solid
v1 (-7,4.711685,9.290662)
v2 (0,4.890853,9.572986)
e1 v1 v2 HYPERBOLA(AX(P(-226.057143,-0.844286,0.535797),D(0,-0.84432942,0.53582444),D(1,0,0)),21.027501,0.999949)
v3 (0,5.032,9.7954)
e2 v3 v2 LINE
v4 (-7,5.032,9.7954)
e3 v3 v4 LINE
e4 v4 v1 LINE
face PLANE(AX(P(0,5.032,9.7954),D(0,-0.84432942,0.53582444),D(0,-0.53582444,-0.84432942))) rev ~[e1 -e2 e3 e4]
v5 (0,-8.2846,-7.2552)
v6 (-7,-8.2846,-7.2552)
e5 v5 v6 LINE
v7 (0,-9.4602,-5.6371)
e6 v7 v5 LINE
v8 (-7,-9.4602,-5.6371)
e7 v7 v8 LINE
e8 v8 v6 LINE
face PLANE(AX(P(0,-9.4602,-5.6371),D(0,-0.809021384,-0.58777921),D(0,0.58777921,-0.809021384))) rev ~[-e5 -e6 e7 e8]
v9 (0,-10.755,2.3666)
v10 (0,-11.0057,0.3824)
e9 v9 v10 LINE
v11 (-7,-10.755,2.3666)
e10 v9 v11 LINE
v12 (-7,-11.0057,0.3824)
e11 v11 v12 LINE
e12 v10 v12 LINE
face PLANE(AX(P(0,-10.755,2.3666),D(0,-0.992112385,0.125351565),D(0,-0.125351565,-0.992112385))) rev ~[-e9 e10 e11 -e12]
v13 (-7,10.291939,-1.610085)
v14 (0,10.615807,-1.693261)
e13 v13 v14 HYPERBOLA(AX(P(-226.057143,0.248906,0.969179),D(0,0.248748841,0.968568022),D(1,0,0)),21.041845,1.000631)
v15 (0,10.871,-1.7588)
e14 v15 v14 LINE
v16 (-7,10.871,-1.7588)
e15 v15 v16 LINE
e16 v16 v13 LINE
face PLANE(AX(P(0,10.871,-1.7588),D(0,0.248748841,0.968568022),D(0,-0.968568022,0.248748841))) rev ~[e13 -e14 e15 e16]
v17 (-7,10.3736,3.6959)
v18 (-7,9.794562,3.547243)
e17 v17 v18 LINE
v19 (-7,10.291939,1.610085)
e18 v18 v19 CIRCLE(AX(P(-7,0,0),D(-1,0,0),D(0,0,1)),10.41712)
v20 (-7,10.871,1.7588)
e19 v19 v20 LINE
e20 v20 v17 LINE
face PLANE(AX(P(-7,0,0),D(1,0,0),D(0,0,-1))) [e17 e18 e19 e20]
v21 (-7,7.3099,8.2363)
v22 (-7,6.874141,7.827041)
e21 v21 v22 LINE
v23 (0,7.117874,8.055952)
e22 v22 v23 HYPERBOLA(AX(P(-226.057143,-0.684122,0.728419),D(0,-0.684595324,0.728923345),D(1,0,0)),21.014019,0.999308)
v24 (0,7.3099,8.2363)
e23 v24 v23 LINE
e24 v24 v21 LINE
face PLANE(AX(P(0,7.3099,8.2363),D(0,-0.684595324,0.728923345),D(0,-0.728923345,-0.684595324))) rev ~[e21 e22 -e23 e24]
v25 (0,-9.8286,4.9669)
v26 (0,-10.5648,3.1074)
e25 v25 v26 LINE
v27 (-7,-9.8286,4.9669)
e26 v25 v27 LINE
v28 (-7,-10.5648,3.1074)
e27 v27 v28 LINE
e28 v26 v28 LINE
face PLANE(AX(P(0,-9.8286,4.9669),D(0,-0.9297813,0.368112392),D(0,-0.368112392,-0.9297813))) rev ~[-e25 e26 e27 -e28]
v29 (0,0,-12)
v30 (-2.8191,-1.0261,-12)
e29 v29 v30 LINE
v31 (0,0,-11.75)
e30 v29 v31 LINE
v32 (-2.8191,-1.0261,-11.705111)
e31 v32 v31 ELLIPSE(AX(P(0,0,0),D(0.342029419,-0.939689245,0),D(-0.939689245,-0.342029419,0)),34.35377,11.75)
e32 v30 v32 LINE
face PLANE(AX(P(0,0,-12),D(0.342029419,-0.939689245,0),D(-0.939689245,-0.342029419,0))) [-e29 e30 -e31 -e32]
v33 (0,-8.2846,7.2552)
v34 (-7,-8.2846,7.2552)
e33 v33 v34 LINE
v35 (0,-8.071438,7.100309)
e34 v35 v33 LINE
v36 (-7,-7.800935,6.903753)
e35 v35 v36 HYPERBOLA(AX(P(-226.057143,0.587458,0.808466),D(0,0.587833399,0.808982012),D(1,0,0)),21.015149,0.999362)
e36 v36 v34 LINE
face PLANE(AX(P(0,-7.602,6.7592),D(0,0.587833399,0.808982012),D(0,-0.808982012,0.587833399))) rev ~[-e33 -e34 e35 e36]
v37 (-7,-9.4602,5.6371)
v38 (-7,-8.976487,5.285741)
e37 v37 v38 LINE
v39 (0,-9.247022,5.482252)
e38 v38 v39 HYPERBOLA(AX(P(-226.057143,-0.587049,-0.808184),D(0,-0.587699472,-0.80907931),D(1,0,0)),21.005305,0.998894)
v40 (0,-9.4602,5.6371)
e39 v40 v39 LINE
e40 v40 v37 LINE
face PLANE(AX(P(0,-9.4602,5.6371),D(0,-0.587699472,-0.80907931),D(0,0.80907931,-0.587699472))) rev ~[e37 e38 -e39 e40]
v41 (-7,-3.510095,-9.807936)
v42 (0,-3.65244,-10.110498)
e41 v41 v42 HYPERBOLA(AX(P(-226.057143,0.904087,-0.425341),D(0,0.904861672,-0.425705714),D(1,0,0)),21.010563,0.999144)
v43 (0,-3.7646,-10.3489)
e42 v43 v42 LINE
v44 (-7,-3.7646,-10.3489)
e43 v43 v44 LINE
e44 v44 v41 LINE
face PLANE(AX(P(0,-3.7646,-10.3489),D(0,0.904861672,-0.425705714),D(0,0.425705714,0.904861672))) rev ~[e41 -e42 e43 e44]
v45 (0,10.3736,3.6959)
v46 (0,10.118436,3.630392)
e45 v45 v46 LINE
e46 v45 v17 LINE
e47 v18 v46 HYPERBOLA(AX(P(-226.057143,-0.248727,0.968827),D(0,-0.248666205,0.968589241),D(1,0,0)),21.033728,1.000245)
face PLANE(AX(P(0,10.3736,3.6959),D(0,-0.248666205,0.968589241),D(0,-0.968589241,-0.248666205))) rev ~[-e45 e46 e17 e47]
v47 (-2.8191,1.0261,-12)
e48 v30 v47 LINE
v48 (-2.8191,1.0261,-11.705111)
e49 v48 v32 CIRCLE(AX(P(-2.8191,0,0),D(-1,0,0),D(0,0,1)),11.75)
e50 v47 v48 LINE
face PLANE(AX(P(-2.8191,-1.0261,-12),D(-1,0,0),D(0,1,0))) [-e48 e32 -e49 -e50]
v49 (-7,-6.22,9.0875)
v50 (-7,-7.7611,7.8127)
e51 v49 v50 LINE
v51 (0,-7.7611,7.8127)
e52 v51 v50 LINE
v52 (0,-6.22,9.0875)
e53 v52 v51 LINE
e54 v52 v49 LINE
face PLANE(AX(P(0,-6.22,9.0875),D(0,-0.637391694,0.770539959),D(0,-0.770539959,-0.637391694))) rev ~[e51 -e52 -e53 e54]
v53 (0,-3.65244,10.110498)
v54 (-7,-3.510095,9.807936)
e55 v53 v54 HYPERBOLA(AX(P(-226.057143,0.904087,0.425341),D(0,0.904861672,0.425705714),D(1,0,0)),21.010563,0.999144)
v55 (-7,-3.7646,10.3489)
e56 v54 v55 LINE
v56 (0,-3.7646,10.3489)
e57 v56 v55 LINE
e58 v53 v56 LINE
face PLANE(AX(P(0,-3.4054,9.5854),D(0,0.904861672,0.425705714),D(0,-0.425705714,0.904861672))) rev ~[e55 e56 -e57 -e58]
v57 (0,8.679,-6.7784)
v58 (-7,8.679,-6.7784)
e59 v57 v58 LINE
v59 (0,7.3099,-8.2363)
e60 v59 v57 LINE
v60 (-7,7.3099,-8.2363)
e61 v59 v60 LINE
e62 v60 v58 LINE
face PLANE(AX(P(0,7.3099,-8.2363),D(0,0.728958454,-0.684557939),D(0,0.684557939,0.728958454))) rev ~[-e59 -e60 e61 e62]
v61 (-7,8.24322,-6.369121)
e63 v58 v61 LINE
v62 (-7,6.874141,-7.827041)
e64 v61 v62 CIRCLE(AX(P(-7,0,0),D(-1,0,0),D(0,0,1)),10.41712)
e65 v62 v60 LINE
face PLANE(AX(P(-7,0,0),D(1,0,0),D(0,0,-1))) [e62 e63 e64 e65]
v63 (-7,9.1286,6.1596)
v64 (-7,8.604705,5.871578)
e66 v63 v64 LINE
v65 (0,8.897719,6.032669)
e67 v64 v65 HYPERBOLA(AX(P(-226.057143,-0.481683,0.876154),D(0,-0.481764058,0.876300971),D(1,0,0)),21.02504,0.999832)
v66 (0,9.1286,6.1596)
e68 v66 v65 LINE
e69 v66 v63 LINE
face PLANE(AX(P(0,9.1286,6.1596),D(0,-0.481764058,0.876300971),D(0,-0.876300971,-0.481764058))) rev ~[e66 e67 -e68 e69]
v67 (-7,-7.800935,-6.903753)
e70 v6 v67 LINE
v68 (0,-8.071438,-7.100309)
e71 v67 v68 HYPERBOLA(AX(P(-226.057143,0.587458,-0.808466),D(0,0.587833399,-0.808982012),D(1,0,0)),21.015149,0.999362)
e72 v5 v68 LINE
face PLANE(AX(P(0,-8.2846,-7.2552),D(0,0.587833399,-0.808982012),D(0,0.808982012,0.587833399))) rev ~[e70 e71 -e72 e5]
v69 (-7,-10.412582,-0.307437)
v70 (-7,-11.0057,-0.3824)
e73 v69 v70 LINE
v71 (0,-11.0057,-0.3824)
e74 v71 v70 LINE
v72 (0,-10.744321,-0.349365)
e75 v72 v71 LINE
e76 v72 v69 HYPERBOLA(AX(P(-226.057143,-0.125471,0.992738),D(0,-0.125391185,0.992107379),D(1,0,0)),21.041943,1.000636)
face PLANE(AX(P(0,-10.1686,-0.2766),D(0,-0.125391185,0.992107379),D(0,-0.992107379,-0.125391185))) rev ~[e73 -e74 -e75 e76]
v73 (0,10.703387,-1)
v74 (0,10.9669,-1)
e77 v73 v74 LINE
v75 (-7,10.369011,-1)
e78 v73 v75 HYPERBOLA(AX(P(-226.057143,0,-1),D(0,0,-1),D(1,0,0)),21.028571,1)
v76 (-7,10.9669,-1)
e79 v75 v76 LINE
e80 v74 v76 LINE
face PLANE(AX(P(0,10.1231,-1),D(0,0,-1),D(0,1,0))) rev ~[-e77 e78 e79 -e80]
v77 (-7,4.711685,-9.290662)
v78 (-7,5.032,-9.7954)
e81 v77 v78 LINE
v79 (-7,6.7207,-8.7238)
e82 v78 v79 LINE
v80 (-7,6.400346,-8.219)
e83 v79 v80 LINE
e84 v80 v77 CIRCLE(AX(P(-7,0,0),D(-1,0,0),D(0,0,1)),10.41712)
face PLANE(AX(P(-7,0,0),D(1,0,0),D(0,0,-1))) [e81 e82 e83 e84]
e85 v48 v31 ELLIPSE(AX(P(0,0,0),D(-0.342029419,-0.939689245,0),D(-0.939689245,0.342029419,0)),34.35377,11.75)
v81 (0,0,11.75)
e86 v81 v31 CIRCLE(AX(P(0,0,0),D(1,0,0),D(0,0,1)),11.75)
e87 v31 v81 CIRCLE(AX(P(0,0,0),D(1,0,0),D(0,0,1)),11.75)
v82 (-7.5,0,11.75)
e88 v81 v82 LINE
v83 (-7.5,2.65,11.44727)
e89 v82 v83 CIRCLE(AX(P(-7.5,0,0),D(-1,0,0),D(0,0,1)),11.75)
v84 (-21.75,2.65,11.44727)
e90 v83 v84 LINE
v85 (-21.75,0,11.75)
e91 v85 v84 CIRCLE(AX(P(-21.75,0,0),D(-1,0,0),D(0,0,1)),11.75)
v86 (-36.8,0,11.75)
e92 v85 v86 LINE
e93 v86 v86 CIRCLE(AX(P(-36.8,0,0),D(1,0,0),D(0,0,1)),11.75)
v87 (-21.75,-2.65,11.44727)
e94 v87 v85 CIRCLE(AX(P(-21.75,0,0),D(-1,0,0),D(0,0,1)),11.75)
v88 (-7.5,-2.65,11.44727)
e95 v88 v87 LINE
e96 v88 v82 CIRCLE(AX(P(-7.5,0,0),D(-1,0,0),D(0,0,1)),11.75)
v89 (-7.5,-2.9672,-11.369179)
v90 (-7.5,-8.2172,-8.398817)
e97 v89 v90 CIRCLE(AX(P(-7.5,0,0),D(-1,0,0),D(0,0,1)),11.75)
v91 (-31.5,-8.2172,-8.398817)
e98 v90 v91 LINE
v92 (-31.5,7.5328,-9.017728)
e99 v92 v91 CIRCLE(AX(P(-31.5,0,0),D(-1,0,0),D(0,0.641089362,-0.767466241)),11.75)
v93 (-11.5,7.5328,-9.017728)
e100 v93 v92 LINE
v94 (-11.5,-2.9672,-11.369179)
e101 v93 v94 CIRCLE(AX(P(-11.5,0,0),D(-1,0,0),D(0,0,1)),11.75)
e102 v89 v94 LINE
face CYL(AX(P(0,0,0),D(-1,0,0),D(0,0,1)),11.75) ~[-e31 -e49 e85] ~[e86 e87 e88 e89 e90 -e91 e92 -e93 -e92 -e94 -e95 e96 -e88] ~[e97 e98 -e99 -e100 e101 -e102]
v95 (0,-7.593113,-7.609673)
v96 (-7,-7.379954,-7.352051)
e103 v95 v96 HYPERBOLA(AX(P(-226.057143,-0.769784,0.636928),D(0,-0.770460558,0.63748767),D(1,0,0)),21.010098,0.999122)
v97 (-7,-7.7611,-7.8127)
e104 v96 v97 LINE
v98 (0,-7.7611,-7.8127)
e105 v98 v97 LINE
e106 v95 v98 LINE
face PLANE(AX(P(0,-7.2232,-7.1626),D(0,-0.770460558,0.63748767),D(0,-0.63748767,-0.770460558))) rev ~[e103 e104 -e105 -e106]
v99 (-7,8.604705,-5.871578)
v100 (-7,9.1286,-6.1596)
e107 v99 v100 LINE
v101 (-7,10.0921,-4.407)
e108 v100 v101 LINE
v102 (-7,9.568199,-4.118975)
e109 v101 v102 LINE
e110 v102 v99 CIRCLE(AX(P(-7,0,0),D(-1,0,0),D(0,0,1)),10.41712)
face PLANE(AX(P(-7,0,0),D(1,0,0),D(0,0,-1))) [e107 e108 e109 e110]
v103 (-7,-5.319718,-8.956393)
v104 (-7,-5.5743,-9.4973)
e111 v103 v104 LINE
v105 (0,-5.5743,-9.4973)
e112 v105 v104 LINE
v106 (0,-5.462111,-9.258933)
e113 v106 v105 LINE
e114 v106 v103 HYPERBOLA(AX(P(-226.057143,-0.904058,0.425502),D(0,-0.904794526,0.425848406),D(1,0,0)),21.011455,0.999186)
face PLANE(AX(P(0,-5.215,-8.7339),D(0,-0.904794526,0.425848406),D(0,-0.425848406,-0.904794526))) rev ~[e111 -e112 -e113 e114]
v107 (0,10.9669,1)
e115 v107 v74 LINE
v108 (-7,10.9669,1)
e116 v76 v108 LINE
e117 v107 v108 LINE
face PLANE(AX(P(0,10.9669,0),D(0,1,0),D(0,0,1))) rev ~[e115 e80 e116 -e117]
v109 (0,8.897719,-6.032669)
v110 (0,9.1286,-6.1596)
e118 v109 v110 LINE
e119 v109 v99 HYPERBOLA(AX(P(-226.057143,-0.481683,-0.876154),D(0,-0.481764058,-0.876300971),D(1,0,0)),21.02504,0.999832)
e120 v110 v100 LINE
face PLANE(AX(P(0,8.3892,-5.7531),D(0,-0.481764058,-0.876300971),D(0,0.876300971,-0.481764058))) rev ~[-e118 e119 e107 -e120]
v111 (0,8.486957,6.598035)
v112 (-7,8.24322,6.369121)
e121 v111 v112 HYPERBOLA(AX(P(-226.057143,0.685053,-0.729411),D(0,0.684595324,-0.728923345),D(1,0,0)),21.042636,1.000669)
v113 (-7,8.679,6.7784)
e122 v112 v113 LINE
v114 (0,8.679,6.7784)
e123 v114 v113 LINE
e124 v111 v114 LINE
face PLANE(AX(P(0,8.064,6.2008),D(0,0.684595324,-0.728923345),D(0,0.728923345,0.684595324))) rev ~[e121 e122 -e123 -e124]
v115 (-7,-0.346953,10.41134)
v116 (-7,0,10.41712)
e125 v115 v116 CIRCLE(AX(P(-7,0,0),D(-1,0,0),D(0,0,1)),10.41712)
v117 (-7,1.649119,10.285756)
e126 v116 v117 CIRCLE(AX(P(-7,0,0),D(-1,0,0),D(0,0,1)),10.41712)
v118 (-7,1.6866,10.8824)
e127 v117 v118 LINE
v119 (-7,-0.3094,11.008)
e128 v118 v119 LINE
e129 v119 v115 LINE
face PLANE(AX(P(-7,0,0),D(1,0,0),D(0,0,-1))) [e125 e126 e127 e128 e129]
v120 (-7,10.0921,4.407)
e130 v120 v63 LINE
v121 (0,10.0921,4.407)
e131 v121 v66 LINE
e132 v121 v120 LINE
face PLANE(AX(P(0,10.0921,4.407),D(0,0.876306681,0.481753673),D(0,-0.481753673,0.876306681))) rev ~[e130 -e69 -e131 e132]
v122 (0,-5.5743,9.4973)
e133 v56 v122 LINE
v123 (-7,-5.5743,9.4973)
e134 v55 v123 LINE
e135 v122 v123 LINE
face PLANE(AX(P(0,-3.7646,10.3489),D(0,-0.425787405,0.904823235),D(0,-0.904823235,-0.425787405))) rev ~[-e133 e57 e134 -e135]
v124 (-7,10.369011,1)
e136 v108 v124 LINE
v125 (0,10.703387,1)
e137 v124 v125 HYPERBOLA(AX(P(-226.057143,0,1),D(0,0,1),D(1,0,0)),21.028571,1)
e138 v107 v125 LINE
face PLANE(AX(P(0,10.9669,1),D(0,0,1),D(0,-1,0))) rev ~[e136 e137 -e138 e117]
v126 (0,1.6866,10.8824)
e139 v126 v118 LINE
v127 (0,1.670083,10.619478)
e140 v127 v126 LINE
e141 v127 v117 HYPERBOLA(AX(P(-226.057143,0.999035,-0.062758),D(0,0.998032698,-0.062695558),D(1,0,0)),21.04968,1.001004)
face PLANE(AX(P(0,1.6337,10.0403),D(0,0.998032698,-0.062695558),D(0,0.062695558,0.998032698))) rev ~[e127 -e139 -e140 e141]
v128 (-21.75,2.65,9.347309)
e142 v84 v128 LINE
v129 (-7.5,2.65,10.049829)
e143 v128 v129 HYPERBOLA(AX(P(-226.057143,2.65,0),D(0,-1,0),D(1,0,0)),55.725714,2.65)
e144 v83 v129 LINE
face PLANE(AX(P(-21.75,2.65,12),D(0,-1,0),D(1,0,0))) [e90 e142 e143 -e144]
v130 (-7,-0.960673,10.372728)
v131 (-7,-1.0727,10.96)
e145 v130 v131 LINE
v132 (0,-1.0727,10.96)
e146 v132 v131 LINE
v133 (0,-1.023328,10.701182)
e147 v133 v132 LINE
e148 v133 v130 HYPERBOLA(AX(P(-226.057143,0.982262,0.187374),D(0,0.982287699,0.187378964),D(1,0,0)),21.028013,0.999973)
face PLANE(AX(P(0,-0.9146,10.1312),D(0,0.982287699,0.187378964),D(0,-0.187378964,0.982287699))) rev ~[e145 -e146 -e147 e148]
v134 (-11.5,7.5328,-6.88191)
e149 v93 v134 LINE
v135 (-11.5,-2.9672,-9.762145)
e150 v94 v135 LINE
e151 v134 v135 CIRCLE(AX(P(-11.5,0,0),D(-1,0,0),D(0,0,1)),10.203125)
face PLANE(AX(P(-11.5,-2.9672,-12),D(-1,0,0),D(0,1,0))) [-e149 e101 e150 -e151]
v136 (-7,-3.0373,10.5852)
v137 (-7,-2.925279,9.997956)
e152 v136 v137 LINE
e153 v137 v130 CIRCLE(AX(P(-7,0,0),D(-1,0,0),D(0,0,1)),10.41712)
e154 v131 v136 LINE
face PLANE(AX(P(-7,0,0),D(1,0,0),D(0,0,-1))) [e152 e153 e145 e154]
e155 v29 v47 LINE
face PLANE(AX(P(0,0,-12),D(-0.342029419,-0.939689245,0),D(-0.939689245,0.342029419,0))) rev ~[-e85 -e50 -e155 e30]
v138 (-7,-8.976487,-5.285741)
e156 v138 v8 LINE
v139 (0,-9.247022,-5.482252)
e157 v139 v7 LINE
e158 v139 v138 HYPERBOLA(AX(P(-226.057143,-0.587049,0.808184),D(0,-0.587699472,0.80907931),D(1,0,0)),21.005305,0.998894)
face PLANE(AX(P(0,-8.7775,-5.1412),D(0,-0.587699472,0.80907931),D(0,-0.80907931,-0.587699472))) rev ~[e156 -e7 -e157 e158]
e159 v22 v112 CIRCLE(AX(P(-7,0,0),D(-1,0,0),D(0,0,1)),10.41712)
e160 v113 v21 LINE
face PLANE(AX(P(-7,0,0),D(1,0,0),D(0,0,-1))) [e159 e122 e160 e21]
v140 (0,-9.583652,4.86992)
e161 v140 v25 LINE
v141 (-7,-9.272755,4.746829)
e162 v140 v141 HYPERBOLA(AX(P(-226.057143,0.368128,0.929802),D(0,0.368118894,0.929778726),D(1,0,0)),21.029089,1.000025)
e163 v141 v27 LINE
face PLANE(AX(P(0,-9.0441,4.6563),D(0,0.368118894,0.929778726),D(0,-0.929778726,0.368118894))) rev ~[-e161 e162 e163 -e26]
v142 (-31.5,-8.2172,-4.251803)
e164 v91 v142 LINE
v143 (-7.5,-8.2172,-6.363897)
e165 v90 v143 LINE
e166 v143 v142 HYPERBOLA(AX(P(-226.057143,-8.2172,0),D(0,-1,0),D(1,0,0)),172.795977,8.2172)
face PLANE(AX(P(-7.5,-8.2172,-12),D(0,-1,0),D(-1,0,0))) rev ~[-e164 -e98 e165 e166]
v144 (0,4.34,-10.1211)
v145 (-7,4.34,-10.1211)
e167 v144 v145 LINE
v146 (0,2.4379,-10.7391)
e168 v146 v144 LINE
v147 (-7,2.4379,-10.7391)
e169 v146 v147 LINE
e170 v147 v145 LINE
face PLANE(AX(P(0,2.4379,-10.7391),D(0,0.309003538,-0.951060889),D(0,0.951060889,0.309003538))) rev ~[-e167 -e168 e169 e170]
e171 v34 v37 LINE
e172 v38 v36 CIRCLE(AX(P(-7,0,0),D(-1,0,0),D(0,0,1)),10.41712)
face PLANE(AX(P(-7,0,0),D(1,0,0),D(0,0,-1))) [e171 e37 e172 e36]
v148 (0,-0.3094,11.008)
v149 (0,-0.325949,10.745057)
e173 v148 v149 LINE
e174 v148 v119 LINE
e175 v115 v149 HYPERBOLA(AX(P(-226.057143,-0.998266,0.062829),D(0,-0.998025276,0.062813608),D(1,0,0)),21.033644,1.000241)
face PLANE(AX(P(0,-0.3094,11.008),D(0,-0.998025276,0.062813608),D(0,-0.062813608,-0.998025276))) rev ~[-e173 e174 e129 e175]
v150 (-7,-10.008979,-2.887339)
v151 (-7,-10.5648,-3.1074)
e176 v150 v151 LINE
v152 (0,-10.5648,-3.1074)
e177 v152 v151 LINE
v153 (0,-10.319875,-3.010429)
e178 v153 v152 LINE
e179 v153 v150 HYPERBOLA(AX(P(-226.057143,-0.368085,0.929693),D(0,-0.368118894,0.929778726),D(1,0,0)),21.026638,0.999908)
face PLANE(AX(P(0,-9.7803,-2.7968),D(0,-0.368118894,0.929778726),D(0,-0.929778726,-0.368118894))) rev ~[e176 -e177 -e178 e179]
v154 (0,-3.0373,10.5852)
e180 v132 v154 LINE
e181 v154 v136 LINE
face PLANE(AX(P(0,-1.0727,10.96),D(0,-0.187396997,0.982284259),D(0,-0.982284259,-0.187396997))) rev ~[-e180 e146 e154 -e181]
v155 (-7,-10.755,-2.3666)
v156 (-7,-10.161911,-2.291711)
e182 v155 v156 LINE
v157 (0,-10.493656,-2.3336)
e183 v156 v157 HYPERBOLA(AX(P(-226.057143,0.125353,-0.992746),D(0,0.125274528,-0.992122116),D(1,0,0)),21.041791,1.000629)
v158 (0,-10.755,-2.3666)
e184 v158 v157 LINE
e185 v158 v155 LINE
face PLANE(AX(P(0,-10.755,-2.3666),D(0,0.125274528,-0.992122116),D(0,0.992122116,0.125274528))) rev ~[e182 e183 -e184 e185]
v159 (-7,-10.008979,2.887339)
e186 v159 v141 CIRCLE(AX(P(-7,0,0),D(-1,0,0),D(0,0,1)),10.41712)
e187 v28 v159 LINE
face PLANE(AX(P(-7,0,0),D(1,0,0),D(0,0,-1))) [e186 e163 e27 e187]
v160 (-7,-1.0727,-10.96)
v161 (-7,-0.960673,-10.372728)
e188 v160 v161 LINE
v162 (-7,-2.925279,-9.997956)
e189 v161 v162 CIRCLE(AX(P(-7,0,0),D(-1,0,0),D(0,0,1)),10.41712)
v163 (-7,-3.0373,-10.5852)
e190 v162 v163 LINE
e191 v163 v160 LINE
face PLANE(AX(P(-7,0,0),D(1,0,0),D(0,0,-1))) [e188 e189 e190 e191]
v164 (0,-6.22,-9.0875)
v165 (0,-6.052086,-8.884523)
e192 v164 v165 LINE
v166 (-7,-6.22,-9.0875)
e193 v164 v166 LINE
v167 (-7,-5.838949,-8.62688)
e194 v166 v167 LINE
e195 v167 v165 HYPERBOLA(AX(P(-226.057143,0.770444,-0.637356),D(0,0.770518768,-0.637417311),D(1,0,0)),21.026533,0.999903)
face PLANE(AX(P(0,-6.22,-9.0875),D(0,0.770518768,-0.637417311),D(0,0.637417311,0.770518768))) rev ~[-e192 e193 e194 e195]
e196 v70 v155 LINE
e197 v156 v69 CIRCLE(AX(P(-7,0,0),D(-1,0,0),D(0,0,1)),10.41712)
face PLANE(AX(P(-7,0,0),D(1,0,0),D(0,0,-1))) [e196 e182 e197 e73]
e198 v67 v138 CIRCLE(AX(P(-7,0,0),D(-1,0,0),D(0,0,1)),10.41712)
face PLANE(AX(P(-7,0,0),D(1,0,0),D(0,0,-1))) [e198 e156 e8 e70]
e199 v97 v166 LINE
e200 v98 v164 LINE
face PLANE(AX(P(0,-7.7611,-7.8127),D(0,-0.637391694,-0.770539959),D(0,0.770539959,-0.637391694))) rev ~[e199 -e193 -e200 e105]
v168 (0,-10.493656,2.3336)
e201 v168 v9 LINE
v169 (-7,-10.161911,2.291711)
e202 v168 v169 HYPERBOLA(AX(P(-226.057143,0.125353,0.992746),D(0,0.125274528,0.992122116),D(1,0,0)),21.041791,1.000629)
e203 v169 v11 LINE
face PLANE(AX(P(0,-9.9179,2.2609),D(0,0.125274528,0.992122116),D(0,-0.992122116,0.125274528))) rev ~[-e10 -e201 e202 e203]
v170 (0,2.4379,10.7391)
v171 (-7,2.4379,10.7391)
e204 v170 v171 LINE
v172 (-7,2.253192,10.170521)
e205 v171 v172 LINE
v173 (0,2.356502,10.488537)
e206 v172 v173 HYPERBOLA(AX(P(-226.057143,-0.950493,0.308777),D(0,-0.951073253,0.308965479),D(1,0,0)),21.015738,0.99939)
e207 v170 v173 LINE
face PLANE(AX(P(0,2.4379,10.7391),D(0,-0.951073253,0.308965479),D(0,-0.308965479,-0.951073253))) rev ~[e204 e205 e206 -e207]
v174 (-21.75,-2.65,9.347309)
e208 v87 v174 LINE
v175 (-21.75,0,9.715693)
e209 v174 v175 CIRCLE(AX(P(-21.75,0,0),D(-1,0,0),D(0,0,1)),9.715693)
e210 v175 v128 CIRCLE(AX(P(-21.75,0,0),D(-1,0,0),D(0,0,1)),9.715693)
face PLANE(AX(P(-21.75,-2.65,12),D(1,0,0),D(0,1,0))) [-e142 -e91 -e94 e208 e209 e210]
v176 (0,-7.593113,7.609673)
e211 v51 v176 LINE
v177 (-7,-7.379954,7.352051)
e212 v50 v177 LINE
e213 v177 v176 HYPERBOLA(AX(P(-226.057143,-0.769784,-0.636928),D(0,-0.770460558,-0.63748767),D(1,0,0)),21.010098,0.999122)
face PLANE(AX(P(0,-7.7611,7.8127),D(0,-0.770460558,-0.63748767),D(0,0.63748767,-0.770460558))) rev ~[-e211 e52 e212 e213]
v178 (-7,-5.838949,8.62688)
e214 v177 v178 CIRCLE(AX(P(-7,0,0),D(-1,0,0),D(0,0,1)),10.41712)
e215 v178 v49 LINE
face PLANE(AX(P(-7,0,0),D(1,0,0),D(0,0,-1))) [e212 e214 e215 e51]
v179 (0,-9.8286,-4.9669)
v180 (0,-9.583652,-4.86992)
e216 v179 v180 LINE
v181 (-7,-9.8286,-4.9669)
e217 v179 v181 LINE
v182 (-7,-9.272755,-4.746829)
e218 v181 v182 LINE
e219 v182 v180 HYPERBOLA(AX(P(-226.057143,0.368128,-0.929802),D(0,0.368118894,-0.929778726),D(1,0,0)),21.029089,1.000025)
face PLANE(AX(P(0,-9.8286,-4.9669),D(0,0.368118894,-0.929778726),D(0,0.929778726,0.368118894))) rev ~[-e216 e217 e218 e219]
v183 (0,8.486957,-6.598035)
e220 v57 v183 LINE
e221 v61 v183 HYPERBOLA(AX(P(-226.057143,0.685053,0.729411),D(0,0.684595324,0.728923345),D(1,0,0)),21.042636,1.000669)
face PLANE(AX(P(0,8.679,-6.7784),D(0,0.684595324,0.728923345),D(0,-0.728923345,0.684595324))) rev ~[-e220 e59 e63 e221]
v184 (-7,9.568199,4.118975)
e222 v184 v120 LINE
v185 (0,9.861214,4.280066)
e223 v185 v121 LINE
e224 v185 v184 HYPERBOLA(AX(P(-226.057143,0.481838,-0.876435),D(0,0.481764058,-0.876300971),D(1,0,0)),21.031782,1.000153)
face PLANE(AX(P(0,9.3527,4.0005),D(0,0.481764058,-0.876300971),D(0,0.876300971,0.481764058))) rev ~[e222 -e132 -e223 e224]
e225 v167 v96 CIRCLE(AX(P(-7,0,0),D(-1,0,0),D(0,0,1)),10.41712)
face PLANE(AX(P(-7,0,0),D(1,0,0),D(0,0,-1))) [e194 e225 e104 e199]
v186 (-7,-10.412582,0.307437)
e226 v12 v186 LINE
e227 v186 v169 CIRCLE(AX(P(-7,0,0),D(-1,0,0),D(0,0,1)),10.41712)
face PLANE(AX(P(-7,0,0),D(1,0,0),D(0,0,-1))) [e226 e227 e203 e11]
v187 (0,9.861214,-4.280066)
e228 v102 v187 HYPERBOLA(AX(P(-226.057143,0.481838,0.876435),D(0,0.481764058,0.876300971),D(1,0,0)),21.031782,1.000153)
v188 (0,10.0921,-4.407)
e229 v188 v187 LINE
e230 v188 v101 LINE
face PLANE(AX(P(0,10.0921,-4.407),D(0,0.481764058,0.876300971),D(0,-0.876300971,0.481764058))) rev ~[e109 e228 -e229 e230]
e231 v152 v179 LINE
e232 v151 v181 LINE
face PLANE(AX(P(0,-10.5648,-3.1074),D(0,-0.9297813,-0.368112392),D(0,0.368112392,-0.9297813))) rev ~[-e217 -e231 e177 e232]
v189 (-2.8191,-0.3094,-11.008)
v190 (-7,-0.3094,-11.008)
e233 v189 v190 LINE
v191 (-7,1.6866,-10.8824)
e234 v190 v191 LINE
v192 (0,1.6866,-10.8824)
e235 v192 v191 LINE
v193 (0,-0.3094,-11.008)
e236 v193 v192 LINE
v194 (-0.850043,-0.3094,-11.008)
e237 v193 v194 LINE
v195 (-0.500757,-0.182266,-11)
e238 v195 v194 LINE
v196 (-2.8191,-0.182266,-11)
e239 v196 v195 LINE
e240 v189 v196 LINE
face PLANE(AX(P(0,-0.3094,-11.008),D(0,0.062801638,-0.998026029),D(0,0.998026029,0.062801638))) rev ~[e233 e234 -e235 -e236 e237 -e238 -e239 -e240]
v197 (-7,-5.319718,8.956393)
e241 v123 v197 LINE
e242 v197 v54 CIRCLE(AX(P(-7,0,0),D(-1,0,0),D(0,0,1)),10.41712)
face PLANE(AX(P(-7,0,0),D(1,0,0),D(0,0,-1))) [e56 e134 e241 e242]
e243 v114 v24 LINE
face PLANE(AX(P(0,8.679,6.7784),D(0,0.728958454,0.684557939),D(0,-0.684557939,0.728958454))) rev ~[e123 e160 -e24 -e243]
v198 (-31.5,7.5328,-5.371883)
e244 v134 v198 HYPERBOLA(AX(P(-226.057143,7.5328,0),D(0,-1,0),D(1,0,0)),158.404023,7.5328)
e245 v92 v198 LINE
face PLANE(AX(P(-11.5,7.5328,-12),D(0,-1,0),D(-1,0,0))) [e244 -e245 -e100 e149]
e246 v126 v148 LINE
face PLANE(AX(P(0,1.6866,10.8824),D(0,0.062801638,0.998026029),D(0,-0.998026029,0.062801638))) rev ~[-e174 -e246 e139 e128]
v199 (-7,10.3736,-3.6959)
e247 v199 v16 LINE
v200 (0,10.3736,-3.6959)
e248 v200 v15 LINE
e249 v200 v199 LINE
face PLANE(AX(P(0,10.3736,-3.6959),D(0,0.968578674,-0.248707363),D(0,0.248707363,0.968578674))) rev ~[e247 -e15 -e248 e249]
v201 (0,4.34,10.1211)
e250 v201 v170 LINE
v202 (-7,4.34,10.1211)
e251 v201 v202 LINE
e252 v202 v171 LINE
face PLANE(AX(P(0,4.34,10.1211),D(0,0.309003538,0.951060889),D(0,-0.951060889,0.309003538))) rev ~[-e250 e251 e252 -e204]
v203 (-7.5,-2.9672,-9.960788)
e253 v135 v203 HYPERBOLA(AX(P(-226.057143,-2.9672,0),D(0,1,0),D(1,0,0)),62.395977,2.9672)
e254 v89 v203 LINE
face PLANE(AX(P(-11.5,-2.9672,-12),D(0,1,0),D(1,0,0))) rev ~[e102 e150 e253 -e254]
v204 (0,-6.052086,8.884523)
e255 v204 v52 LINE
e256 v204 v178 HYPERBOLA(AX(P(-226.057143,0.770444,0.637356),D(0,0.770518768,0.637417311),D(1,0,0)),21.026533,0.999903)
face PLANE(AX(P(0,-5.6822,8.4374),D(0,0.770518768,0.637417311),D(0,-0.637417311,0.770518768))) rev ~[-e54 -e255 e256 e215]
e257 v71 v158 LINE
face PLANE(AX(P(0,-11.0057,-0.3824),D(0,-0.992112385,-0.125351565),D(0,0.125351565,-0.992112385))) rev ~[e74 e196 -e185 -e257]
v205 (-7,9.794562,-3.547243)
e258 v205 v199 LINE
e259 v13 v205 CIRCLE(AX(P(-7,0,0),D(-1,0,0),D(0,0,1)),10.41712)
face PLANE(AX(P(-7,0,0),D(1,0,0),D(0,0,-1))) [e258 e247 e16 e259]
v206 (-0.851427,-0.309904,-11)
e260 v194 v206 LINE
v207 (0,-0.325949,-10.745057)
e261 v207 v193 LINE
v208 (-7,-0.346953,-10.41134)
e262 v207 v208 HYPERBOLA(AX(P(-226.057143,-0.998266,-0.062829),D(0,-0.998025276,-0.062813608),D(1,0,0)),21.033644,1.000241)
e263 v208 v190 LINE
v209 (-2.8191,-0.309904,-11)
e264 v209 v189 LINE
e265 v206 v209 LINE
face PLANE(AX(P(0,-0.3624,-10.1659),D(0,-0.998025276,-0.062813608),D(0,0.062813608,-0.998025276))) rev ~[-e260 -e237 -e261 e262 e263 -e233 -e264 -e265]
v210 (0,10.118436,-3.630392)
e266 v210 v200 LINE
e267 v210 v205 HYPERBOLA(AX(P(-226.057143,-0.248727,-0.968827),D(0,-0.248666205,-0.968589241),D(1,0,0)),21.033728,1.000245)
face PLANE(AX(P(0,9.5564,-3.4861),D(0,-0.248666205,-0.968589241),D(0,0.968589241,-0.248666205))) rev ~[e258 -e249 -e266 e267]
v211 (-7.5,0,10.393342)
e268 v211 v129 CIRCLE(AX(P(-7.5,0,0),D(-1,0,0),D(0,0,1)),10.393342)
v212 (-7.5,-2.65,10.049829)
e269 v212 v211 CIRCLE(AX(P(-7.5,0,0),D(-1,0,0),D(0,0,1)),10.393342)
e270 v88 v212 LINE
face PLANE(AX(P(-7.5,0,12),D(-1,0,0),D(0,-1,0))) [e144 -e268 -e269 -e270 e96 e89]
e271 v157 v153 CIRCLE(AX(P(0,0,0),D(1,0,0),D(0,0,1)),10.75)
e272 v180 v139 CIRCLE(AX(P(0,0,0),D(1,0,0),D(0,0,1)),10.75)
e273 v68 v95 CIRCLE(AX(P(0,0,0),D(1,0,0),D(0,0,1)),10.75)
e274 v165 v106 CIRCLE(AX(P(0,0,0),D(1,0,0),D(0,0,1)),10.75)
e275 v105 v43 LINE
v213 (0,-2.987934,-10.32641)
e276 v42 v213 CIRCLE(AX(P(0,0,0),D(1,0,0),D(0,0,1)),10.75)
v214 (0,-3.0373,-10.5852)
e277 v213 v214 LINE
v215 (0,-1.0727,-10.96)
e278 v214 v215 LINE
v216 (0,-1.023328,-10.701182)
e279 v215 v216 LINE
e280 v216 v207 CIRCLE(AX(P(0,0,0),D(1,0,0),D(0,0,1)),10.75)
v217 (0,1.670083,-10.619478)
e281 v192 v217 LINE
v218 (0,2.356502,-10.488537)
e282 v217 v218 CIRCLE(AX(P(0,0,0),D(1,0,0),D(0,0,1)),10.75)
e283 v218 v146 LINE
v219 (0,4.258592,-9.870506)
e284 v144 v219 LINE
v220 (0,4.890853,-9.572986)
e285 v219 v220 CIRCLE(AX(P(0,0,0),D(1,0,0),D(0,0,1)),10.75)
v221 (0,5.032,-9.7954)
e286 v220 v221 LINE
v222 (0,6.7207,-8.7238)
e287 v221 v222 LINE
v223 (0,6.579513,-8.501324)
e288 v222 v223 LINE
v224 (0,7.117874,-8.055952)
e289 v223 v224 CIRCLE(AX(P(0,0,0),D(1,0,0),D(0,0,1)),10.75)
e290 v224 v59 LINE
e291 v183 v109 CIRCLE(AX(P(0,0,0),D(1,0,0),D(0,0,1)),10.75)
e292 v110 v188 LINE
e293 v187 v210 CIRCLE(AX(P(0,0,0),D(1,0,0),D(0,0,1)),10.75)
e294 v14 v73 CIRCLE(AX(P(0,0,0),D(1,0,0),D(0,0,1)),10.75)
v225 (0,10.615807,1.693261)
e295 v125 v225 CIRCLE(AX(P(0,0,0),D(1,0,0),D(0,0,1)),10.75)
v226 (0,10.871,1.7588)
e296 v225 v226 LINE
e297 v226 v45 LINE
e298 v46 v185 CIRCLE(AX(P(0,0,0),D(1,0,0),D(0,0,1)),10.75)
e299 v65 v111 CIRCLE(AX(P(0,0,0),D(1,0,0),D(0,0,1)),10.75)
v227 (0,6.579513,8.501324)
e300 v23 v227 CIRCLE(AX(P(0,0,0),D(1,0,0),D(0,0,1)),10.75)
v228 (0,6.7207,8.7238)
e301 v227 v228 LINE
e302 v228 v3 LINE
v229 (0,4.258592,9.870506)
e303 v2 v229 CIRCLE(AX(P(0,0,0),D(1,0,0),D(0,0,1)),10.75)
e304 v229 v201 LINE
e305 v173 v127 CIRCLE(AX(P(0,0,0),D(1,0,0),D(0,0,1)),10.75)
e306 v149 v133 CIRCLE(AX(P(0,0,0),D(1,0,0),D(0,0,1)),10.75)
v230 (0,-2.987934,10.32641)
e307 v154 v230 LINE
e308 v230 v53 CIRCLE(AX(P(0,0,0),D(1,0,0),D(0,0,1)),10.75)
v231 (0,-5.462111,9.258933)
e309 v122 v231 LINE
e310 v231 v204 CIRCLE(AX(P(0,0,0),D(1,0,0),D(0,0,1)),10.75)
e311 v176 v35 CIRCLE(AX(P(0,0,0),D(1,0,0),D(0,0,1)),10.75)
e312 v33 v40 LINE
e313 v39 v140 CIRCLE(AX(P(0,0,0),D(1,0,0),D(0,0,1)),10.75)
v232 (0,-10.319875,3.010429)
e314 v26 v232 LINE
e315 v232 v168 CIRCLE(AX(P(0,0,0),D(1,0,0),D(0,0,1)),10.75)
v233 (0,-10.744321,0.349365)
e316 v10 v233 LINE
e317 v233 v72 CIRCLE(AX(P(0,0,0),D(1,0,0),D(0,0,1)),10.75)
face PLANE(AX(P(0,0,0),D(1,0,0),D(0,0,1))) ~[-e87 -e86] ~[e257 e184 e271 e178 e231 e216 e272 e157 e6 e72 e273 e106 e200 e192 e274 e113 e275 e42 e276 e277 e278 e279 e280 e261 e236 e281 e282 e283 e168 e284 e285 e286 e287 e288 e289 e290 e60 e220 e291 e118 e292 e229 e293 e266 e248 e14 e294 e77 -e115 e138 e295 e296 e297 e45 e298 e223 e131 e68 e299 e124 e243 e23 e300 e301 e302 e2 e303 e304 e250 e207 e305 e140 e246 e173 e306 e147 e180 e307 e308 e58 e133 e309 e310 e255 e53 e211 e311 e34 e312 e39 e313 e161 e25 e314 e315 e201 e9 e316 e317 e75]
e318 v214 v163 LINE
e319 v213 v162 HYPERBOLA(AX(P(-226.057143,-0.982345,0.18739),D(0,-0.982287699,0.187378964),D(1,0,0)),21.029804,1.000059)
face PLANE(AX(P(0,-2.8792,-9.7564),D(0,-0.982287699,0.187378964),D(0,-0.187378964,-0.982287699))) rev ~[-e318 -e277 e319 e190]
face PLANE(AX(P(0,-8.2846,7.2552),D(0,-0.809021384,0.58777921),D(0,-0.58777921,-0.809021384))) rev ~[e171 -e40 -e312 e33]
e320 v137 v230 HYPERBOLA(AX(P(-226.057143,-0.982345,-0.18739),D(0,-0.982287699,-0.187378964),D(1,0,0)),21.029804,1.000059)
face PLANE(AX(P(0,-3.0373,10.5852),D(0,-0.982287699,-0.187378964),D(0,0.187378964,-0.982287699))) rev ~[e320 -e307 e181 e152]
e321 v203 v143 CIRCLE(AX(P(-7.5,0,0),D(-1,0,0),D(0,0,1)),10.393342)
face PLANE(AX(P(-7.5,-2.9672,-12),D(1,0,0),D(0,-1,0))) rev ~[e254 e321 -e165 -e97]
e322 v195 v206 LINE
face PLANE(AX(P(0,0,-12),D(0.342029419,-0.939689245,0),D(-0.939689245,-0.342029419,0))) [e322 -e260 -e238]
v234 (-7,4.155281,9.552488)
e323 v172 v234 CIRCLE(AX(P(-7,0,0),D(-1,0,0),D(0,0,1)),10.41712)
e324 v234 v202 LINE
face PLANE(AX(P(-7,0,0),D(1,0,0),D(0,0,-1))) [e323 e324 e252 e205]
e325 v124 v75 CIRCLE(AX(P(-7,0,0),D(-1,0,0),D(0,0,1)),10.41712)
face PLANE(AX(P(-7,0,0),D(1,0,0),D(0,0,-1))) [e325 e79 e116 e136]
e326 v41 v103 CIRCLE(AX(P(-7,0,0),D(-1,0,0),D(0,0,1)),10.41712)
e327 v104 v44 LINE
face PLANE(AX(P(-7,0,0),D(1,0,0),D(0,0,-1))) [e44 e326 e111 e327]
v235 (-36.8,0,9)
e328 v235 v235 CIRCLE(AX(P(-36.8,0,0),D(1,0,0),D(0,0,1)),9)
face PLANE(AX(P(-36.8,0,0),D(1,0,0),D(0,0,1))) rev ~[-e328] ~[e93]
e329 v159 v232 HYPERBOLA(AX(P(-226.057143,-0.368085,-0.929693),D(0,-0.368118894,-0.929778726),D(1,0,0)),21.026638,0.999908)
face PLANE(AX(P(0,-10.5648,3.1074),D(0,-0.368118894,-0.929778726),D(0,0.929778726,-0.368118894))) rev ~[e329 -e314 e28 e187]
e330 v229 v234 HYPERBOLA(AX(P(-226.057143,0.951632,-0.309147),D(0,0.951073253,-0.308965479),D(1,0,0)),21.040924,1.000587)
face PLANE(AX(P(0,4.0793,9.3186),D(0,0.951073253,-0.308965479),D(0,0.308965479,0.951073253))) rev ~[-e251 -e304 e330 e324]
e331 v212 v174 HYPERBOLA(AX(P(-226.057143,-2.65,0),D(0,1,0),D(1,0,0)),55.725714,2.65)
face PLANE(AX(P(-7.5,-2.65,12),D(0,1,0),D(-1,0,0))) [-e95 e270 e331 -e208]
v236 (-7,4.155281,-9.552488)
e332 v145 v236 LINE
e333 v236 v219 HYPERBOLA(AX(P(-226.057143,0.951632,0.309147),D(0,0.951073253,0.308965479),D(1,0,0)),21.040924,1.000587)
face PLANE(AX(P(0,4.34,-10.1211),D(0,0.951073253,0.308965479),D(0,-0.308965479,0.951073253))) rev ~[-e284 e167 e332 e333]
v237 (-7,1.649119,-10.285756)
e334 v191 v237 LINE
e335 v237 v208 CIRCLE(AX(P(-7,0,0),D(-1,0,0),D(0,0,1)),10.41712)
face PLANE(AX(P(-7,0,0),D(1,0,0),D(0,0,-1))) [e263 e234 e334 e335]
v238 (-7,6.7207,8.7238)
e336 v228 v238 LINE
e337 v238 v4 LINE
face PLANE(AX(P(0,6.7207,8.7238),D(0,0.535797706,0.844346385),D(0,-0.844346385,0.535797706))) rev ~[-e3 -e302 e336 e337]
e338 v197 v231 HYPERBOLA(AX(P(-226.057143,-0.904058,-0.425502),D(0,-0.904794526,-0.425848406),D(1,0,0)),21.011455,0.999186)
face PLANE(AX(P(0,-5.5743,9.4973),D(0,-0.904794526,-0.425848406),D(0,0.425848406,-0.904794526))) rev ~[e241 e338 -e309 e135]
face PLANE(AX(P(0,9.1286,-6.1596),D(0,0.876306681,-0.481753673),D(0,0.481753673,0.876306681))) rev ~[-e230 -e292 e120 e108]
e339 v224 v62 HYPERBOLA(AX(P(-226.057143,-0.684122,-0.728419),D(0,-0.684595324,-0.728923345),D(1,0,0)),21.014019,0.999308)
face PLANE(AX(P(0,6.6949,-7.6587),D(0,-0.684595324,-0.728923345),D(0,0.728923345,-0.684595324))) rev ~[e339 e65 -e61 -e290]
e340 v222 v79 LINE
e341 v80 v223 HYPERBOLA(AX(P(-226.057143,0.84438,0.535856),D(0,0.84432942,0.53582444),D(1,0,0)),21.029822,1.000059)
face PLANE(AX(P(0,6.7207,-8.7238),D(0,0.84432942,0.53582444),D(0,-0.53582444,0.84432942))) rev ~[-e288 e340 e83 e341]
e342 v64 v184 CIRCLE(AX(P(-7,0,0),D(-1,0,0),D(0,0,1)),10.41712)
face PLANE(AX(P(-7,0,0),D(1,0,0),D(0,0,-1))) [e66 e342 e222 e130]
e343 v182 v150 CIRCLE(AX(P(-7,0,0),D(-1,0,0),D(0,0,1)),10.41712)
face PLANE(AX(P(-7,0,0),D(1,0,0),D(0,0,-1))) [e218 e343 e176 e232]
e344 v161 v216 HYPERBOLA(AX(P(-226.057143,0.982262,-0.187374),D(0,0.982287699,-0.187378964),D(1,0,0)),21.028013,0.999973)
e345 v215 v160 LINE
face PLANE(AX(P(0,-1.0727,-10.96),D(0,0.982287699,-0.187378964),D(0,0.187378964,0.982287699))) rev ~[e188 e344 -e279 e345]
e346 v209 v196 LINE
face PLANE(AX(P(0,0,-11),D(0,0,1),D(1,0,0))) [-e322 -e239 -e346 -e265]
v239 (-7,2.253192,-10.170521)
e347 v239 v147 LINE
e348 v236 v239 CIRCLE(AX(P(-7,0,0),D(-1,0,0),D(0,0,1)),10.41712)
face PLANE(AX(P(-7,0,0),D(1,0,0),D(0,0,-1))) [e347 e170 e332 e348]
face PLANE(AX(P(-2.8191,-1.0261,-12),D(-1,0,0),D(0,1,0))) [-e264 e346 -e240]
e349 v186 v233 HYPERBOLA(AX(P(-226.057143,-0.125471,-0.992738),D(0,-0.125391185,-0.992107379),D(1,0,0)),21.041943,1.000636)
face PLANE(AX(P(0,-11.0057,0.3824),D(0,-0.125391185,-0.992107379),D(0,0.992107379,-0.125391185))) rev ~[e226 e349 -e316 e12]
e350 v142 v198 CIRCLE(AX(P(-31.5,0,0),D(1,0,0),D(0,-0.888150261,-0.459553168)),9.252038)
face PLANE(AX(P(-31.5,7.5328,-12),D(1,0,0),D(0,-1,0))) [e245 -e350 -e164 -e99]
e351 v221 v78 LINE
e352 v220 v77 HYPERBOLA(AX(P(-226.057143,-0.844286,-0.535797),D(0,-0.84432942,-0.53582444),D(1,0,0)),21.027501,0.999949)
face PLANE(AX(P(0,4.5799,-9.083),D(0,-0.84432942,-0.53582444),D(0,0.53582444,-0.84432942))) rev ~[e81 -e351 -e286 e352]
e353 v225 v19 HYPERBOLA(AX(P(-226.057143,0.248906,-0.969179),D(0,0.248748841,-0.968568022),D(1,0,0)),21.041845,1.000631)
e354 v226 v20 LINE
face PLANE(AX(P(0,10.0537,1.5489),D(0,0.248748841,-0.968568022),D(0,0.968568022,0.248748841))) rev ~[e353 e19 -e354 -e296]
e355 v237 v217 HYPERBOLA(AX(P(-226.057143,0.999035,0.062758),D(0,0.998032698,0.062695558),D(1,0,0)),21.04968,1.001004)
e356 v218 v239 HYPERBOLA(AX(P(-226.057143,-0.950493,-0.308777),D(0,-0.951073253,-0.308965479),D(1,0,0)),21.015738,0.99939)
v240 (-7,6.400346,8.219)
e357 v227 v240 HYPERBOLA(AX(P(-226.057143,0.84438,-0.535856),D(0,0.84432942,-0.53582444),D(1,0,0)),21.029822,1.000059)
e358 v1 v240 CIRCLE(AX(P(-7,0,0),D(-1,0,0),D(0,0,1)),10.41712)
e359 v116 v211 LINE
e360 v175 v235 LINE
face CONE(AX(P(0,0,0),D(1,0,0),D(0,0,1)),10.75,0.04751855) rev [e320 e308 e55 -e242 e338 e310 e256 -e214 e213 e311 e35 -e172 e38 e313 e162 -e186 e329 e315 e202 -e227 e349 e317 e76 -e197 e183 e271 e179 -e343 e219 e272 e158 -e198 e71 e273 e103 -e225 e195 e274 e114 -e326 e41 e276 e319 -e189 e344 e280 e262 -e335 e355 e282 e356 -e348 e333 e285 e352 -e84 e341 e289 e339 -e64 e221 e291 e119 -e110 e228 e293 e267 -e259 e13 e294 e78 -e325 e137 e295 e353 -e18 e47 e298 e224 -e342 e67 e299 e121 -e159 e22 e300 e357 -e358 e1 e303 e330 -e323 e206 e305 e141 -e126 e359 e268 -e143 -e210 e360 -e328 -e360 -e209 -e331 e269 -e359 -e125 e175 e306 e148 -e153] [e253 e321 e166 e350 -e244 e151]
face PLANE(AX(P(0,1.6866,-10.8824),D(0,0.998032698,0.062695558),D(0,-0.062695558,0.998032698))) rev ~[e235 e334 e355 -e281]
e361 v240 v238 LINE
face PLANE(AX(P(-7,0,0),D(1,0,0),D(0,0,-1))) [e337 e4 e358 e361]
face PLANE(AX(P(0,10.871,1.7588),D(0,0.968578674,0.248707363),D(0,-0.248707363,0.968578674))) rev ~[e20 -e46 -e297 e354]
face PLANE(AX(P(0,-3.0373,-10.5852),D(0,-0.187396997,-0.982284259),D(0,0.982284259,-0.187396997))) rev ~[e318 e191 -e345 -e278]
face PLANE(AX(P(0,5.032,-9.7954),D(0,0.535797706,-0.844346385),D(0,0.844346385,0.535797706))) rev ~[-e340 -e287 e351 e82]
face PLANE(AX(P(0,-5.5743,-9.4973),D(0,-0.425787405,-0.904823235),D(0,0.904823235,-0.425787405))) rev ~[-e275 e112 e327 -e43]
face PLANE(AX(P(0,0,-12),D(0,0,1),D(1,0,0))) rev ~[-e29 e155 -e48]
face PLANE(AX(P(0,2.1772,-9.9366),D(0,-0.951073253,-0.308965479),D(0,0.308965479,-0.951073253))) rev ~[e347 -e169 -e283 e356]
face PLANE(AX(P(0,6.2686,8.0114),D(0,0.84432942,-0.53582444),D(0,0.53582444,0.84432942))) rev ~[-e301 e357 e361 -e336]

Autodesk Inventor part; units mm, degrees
ref_plane "YZ Plane" through (0, 0, 0) normal (1, 0, 0) x (0, 1, 0)
ref_plane "XZ Plane" through (0, 0, 0) normal (0, 1, 0) x (-1, 0, 0)
sketch "Sketch1" plane through (0, 0, 0) normal (0, 1, 0) x (-1, 0, 0)
  line L0 (0, 10.75) -> (36.8, 9)
  line L1 (0, 10.75) -> (0, 11.75)
  line L2 (0, 11.75) -> (36.8, 11.75)
  line L3 (36.8, 11.75) -> (36.8, 9)
  line L4 (44.16, 0) -> (-7.36, 0) projected
  point P0 (0, 0)
  dimension "d29" = 9
revolve "Revolution1" add sketch "Sketch1" angle 360 about axis through (-10, 0, 0) along (1, 0, 0)
sketch "Sketch2" plane through (0, 0, 0) normal (1, 0, 0) x (0, 0, -1)
  line L0 (-1, 10.1231) -> (1, 10.1231)
  line L1 (1, 10.1231) -> (1, 10.9669)
  line L2 (1, 10.9669) -> (-1, 10.9669)
  line L3 (-1, 10.9669) -> (-1, 10.1231)
  line L4 (0, -16.45) -> (0, 16.45) projected
  line L5 (-3.4861, 9.5564) -> (-1.5489, 10.0537)
  line L6 (-1.5489, 10.0537) -> (-1.7588, 10.871)
  line L7 (-1.7588, 10.871) -> (-3.6959, 10.3736)
  line L8 (-3.6959, 10.3736) -> (-3.4861, 9.5564)
  line L9 (-5.7531, 8.3892) -> (-4.0005, 9.3527)
  line L10 (-4.0005, 9.3527) -> (-4.407, 10.0921)
  line L11 (-4.407, 10.0921) -> (-6.1596, 9.1286)
  line L12 (-6.1596, 9.1286) -> (-5.7531, 8.3892)
  line L13 (-7.6587, 6.6949) -> (-6.2008, 8.064)
  line L14 (-6.2008, 8.064) -> (-6.7784, 8.679)
  line L15 (-6.7784, 8.679) -> (-8.2363, 7.3099)
  line L16 (-8.2363, 7.3099) -> (-7.6587, 6.6949)
  line L17 (-9.083, 4.5799) -> (-8.0114, 6.2686)
  line L18 (-8.0114, 6.2686) -> (-8.7238, 6.7207)
  line L19 (-8.7238, 6.7207) -> (-9.7954, 5.032)
  line L20 (-9.7954, 5.032) -> (-9.083, 4.5799)
  line L21 (-9.9366, 2.1772) -> (-9.3186, 4.0793)
  line L22 (-9.3186, 4.0793) -> (-10.1211, 4.34)
  line L23 (-10.1211, 4.34) -> (-10.7391, 2.4379)
  line L24 (-10.7391, 2.4379) -> (-9.9366, 2.1772)
  line L25 (-10.1659, -0.3624) -> (-10.0403, 1.6337)
  line L26 (-10.0403, 1.6337) -> (-10.8824, 1.6866)
  line L27 (-10.8824, 1.6866) -> (-11.008, -0.3094)
  line L28 (-11.008, -0.3094) -> (-10.1659, -0.3624)
  line L29 (-9.7564, -2.8792) -> (-10.1312, -0.9146)
  line L30 (-10.1312, -0.9146) -> (-10.96, -1.0727)
  line L31 (-10.96, -1.0727) -> (-10.5852, -3.0373)
  line L32 (-10.5852, -3.0373) -> (-9.7564, -2.8792)
  line L33 (-8.7339, -5.215) -> (-9.5854, -3.4054)
  line L34 (-9.5854, -3.4054) -> (-10.3489, -3.7646)
  line L35 (-10.3489, -3.7646) -> (-9.4973, -5.5743)
  line L36 (-9.4973, -5.5743) -> (-8.7339, -5.215)
  line L37 (-7.1626, -7.2232) -> (-8.4374, -5.6822)
  line L38 (-8.4374, -5.6822) -> (-9.0875, -6.22)
  line L39 (-9.0875, -6.22) -> (-7.8127, -7.7611)
  line L40 (-7.8127, -7.7611) -> (-7.1626, -7.2232)
  line L41 (-5.1412, -8.7775) -> (-6.7592, -7.602)
  line L42 (-6.7592, -7.602) -> (-7.2552, -8.2846)
  line L43 (-7.2552, -8.2846) -> (-5.6371, -9.4602)
  line L44 (-5.6371, -9.4602) -> (-5.1412, -8.7775)
  line L45 (-2.7968, -9.7803) -> (-4.6563, -9.0441)
  line L46 (-4.6563, -9.0441) -> (-4.9669, -9.8286)
  line L47 (-4.9669, -9.8286) -> (-3.1074, -10.5648)
  line L48 (-3.1074, -10.5648) -> (-2.7968, -9.7803)
  line L49 (-0.2766, -10.1686) -> (-2.2609, -9.9179)
  line L50 (-2.2609, -9.9179) -> (-2.3666, -10.755)
  line L51 (-2.3666, -10.755) -> (-0.3824, -11.0057)
  line L52 (-0.3824, -11.0057) -> (-0.2766, -10.1686)
  line L53 (2.2609, -9.9179) -> (0.2766, -10.1686)
  line L54 (0.2766, -10.1686) -> (0.3824, -11.0057)
  line L55 (0.3824, -11.0057) -> (2.3666, -10.755)
  line L56 (2.3666, -10.755) -> (2.2609, -9.9179)
  line L57 (4.6563, -9.0441) -> (2.7968, -9.7803)
  line L58 (2.7968, -9.7803) -> (3.1074, -10.5648)
  line L59 (3.1074, -10.5648) -> (4.9669, -9.8286)
  line L60 (4.9669, -9.8286) -> (4.6563, -9.0441)
  line L61 (6.7592, -7.602) -> (5.1412, -8.7775)
  line L62 (5.1412, -8.7775) -> (5.6371, -9.4602)
  line L63 (5.6371, -9.4602) -> (7.2552, -8.2846)
  line L64 (7.2552, -8.2846) -> (6.7592, -7.602)
  line L65 (8.4374, -5.6822) -> (7.1626, -7.2232)
  line L66 (7.1626, -7.2232) -> (7.8127, -7.7611)
  line L67 (7.8127, -7.7611) -> (9.0875, -6.22)
  line L68 (9.0875, -6.22) -> (8.4374, -5.6822)
  line L69 (9.5854, -3.4054) -> (8.7339, -5.215)
  line L70 (8.7339, -5.215) -> (9.4973, -5.5743)
  line L71 (9.4973, -5.5743) -> (10.3489, -3.7646)
  line L72 (10.3489, -3.7646) -> (9.5854, -3.4054)
  line L73 (10.1312, -0.9146) -> (9.7564, -2.8792)
  line L74 (9.7564, -2.8792) -> (10.5852, -3.0373)
  line L75 (10.5852, -3.0373) -> (10.96, -1.0727)
  line L76 (10.96, -1.0727) -> (10.1312, -0.9146)
  line L77 (10.0403, 1.6337) -> (10.1659, -0.3624)
  line L78 (10.1659, -0.3624) -> (11.008, -0.3094)
  line L79 (11.008, -0.3094) -> (10.8824, 1.6866)
  line L80 (10.8824, 1.6866) -> (10.0403, 1.6337)
  line L81 (9.3186, 4.0793) -> (9.9366, 2.1772)
  line L82 (9.9366, 2.1772) -> (10.7391, 2.4379)
  line L83 (10.7391, 2.4379) -> (10.1211, 4.34)
  line L84 (10.1211, 4.34) -> (9.3186, 4.0793)
  line L85 (8.0114, 6.2686) -> (9.083, 4.5799)
  line L86 (9.083, 4.5799) -> (9.7954, 5.032)
  line L87 (9.7954, 5.032) -> (8.7238, 6.7207)
  line L88 (8.7238, 6.7207) -> (8.0114, 6.2686)
  line L89 (6.2008, 8.064) -> (7.6587, 6.6949)
  line L90 (7.6587, 6.6949) -> (8.2363, 7.3099)
  line L91 (8.2363, 7.3099) -> (6.7784, 8.679)
  line L92 (6.7784, 8.679) -> (6.2008, 8.064)
  line L93 (4.0005, 9.3527) -> (5.7531, 8.3892)
  line L94 (5.7531, 8.3892) -> (6.1596, 9.1286)
  line L95 (6.1596, 9.1286) -> (4.407, 10.0921)
  line L96 (4.407, 10.0921) -> (4.0005, 9.3527)
  line L97 (1.5489, 10.0537) -> (3.4861, 9.5564)
  line L98 (3.4861, 9.5564) -> (3.6959, 10.3736)
  line L99 (3.6959, 10.3736) -> (1.7588, 10.871)
  line L100 (1.7588, 10.871) -> (1.5489, 10.0537)
  point P0 (0, 0)
  dimension "d4" = 2
  dimension "d5" = 1
  dimension "d8" = 360
extrude "Extrusion1" cut sketch "Sketch2" against normal blind 7
ref_plane "Work Plane1" through (0, 0, 12) normal (0, 0, 1) x (1, 0, 0)
sketch "Sketch3" plane through (0, 0, 12) normal (0, 0, 1) x (1, 0, 0)
  line L0 (-7.5, -2.65) -> (-21.75, -2.65)
  line L1 (-21.75, -2.65) -> (-21.75, 2.65)
  line L2 (-21.75, 2.65) -> (-7.5, 2.65)
  line L3 (-7.5, 2.65) -> (-7.5, -2.65)
  line L4 (-26.1, 0) -> (4.35, 0) projected
  line L5 (0, 11.75) -> (0, -11.75) projected
  point P0 (0, 0)
  dimension "d13" = 14.25
  dimension "d14" = 5.3
  dimension "d15" = 2.65
  dimension "d16" = 7.5
extrude "Extrusion2" cut sketch "Sketch3" against normal blind 10
ref_plane "Work Plane2" through (0, 0, -12) normal (0, 0, 1) x (1, 0, 0)
sketch "Sketch4" plane through (0, 0, -12) normal (0, 0, 1) x (1, 0, 0)
  line L0 (-7.5, -8.2172) -> (-31.5, -8.2172)
  line L1 (-31.5, -8.2172) -> (-31.5, -2.9672)
  line L2 (-11.5, -2.9672) -> (-7.5, -2.9672)
  line L3 (-7.5, -2.9672) -> (-7.5, -8.2172)
  line L4 (0, 11.75) -> (0, -11.75) projected
  line L5 (-11.5, -2.9672) -> (-11.5, 7.5328)
  line L6 (-11.5, 7.5328) -> (-31.5, 7.5328)
  line L7 (-31.5, 7.5328) -> (-31.5, -2.9672)
  point P0 (0, 0)
extrude "Extrusion3" cut sketch "Sketch4" along normal blind 10
sketch "Sketch5" plane through (0, 0, -12) normal (0, 0, 1) x (1, 0, 0)
  line L0 (0, 0) -> (-2.8191, 1.0261)
  line L1 (0, 0) -> (3, 0) construction
  line L2 (0, 0) -> (-2.8191, -1.0261)
  line L3 (0, 0) -> (3, 0) construction
  line L4 (0, -1.0727) -> (-7, -1.0727) projected
  line L5 (-2.8191, -1.0261) -> (-2.8191, 1.0261)
  point P0 (-7, 1.6491)
  dimension "d30" = 3
  dimension "d31" = 160
  dimension "d32" = 3
  dimension "d33" = 160
extrude "Extrusion4" add sketch "Sketch5" along normal blind 1
properties part number "venturivalveajuster"
